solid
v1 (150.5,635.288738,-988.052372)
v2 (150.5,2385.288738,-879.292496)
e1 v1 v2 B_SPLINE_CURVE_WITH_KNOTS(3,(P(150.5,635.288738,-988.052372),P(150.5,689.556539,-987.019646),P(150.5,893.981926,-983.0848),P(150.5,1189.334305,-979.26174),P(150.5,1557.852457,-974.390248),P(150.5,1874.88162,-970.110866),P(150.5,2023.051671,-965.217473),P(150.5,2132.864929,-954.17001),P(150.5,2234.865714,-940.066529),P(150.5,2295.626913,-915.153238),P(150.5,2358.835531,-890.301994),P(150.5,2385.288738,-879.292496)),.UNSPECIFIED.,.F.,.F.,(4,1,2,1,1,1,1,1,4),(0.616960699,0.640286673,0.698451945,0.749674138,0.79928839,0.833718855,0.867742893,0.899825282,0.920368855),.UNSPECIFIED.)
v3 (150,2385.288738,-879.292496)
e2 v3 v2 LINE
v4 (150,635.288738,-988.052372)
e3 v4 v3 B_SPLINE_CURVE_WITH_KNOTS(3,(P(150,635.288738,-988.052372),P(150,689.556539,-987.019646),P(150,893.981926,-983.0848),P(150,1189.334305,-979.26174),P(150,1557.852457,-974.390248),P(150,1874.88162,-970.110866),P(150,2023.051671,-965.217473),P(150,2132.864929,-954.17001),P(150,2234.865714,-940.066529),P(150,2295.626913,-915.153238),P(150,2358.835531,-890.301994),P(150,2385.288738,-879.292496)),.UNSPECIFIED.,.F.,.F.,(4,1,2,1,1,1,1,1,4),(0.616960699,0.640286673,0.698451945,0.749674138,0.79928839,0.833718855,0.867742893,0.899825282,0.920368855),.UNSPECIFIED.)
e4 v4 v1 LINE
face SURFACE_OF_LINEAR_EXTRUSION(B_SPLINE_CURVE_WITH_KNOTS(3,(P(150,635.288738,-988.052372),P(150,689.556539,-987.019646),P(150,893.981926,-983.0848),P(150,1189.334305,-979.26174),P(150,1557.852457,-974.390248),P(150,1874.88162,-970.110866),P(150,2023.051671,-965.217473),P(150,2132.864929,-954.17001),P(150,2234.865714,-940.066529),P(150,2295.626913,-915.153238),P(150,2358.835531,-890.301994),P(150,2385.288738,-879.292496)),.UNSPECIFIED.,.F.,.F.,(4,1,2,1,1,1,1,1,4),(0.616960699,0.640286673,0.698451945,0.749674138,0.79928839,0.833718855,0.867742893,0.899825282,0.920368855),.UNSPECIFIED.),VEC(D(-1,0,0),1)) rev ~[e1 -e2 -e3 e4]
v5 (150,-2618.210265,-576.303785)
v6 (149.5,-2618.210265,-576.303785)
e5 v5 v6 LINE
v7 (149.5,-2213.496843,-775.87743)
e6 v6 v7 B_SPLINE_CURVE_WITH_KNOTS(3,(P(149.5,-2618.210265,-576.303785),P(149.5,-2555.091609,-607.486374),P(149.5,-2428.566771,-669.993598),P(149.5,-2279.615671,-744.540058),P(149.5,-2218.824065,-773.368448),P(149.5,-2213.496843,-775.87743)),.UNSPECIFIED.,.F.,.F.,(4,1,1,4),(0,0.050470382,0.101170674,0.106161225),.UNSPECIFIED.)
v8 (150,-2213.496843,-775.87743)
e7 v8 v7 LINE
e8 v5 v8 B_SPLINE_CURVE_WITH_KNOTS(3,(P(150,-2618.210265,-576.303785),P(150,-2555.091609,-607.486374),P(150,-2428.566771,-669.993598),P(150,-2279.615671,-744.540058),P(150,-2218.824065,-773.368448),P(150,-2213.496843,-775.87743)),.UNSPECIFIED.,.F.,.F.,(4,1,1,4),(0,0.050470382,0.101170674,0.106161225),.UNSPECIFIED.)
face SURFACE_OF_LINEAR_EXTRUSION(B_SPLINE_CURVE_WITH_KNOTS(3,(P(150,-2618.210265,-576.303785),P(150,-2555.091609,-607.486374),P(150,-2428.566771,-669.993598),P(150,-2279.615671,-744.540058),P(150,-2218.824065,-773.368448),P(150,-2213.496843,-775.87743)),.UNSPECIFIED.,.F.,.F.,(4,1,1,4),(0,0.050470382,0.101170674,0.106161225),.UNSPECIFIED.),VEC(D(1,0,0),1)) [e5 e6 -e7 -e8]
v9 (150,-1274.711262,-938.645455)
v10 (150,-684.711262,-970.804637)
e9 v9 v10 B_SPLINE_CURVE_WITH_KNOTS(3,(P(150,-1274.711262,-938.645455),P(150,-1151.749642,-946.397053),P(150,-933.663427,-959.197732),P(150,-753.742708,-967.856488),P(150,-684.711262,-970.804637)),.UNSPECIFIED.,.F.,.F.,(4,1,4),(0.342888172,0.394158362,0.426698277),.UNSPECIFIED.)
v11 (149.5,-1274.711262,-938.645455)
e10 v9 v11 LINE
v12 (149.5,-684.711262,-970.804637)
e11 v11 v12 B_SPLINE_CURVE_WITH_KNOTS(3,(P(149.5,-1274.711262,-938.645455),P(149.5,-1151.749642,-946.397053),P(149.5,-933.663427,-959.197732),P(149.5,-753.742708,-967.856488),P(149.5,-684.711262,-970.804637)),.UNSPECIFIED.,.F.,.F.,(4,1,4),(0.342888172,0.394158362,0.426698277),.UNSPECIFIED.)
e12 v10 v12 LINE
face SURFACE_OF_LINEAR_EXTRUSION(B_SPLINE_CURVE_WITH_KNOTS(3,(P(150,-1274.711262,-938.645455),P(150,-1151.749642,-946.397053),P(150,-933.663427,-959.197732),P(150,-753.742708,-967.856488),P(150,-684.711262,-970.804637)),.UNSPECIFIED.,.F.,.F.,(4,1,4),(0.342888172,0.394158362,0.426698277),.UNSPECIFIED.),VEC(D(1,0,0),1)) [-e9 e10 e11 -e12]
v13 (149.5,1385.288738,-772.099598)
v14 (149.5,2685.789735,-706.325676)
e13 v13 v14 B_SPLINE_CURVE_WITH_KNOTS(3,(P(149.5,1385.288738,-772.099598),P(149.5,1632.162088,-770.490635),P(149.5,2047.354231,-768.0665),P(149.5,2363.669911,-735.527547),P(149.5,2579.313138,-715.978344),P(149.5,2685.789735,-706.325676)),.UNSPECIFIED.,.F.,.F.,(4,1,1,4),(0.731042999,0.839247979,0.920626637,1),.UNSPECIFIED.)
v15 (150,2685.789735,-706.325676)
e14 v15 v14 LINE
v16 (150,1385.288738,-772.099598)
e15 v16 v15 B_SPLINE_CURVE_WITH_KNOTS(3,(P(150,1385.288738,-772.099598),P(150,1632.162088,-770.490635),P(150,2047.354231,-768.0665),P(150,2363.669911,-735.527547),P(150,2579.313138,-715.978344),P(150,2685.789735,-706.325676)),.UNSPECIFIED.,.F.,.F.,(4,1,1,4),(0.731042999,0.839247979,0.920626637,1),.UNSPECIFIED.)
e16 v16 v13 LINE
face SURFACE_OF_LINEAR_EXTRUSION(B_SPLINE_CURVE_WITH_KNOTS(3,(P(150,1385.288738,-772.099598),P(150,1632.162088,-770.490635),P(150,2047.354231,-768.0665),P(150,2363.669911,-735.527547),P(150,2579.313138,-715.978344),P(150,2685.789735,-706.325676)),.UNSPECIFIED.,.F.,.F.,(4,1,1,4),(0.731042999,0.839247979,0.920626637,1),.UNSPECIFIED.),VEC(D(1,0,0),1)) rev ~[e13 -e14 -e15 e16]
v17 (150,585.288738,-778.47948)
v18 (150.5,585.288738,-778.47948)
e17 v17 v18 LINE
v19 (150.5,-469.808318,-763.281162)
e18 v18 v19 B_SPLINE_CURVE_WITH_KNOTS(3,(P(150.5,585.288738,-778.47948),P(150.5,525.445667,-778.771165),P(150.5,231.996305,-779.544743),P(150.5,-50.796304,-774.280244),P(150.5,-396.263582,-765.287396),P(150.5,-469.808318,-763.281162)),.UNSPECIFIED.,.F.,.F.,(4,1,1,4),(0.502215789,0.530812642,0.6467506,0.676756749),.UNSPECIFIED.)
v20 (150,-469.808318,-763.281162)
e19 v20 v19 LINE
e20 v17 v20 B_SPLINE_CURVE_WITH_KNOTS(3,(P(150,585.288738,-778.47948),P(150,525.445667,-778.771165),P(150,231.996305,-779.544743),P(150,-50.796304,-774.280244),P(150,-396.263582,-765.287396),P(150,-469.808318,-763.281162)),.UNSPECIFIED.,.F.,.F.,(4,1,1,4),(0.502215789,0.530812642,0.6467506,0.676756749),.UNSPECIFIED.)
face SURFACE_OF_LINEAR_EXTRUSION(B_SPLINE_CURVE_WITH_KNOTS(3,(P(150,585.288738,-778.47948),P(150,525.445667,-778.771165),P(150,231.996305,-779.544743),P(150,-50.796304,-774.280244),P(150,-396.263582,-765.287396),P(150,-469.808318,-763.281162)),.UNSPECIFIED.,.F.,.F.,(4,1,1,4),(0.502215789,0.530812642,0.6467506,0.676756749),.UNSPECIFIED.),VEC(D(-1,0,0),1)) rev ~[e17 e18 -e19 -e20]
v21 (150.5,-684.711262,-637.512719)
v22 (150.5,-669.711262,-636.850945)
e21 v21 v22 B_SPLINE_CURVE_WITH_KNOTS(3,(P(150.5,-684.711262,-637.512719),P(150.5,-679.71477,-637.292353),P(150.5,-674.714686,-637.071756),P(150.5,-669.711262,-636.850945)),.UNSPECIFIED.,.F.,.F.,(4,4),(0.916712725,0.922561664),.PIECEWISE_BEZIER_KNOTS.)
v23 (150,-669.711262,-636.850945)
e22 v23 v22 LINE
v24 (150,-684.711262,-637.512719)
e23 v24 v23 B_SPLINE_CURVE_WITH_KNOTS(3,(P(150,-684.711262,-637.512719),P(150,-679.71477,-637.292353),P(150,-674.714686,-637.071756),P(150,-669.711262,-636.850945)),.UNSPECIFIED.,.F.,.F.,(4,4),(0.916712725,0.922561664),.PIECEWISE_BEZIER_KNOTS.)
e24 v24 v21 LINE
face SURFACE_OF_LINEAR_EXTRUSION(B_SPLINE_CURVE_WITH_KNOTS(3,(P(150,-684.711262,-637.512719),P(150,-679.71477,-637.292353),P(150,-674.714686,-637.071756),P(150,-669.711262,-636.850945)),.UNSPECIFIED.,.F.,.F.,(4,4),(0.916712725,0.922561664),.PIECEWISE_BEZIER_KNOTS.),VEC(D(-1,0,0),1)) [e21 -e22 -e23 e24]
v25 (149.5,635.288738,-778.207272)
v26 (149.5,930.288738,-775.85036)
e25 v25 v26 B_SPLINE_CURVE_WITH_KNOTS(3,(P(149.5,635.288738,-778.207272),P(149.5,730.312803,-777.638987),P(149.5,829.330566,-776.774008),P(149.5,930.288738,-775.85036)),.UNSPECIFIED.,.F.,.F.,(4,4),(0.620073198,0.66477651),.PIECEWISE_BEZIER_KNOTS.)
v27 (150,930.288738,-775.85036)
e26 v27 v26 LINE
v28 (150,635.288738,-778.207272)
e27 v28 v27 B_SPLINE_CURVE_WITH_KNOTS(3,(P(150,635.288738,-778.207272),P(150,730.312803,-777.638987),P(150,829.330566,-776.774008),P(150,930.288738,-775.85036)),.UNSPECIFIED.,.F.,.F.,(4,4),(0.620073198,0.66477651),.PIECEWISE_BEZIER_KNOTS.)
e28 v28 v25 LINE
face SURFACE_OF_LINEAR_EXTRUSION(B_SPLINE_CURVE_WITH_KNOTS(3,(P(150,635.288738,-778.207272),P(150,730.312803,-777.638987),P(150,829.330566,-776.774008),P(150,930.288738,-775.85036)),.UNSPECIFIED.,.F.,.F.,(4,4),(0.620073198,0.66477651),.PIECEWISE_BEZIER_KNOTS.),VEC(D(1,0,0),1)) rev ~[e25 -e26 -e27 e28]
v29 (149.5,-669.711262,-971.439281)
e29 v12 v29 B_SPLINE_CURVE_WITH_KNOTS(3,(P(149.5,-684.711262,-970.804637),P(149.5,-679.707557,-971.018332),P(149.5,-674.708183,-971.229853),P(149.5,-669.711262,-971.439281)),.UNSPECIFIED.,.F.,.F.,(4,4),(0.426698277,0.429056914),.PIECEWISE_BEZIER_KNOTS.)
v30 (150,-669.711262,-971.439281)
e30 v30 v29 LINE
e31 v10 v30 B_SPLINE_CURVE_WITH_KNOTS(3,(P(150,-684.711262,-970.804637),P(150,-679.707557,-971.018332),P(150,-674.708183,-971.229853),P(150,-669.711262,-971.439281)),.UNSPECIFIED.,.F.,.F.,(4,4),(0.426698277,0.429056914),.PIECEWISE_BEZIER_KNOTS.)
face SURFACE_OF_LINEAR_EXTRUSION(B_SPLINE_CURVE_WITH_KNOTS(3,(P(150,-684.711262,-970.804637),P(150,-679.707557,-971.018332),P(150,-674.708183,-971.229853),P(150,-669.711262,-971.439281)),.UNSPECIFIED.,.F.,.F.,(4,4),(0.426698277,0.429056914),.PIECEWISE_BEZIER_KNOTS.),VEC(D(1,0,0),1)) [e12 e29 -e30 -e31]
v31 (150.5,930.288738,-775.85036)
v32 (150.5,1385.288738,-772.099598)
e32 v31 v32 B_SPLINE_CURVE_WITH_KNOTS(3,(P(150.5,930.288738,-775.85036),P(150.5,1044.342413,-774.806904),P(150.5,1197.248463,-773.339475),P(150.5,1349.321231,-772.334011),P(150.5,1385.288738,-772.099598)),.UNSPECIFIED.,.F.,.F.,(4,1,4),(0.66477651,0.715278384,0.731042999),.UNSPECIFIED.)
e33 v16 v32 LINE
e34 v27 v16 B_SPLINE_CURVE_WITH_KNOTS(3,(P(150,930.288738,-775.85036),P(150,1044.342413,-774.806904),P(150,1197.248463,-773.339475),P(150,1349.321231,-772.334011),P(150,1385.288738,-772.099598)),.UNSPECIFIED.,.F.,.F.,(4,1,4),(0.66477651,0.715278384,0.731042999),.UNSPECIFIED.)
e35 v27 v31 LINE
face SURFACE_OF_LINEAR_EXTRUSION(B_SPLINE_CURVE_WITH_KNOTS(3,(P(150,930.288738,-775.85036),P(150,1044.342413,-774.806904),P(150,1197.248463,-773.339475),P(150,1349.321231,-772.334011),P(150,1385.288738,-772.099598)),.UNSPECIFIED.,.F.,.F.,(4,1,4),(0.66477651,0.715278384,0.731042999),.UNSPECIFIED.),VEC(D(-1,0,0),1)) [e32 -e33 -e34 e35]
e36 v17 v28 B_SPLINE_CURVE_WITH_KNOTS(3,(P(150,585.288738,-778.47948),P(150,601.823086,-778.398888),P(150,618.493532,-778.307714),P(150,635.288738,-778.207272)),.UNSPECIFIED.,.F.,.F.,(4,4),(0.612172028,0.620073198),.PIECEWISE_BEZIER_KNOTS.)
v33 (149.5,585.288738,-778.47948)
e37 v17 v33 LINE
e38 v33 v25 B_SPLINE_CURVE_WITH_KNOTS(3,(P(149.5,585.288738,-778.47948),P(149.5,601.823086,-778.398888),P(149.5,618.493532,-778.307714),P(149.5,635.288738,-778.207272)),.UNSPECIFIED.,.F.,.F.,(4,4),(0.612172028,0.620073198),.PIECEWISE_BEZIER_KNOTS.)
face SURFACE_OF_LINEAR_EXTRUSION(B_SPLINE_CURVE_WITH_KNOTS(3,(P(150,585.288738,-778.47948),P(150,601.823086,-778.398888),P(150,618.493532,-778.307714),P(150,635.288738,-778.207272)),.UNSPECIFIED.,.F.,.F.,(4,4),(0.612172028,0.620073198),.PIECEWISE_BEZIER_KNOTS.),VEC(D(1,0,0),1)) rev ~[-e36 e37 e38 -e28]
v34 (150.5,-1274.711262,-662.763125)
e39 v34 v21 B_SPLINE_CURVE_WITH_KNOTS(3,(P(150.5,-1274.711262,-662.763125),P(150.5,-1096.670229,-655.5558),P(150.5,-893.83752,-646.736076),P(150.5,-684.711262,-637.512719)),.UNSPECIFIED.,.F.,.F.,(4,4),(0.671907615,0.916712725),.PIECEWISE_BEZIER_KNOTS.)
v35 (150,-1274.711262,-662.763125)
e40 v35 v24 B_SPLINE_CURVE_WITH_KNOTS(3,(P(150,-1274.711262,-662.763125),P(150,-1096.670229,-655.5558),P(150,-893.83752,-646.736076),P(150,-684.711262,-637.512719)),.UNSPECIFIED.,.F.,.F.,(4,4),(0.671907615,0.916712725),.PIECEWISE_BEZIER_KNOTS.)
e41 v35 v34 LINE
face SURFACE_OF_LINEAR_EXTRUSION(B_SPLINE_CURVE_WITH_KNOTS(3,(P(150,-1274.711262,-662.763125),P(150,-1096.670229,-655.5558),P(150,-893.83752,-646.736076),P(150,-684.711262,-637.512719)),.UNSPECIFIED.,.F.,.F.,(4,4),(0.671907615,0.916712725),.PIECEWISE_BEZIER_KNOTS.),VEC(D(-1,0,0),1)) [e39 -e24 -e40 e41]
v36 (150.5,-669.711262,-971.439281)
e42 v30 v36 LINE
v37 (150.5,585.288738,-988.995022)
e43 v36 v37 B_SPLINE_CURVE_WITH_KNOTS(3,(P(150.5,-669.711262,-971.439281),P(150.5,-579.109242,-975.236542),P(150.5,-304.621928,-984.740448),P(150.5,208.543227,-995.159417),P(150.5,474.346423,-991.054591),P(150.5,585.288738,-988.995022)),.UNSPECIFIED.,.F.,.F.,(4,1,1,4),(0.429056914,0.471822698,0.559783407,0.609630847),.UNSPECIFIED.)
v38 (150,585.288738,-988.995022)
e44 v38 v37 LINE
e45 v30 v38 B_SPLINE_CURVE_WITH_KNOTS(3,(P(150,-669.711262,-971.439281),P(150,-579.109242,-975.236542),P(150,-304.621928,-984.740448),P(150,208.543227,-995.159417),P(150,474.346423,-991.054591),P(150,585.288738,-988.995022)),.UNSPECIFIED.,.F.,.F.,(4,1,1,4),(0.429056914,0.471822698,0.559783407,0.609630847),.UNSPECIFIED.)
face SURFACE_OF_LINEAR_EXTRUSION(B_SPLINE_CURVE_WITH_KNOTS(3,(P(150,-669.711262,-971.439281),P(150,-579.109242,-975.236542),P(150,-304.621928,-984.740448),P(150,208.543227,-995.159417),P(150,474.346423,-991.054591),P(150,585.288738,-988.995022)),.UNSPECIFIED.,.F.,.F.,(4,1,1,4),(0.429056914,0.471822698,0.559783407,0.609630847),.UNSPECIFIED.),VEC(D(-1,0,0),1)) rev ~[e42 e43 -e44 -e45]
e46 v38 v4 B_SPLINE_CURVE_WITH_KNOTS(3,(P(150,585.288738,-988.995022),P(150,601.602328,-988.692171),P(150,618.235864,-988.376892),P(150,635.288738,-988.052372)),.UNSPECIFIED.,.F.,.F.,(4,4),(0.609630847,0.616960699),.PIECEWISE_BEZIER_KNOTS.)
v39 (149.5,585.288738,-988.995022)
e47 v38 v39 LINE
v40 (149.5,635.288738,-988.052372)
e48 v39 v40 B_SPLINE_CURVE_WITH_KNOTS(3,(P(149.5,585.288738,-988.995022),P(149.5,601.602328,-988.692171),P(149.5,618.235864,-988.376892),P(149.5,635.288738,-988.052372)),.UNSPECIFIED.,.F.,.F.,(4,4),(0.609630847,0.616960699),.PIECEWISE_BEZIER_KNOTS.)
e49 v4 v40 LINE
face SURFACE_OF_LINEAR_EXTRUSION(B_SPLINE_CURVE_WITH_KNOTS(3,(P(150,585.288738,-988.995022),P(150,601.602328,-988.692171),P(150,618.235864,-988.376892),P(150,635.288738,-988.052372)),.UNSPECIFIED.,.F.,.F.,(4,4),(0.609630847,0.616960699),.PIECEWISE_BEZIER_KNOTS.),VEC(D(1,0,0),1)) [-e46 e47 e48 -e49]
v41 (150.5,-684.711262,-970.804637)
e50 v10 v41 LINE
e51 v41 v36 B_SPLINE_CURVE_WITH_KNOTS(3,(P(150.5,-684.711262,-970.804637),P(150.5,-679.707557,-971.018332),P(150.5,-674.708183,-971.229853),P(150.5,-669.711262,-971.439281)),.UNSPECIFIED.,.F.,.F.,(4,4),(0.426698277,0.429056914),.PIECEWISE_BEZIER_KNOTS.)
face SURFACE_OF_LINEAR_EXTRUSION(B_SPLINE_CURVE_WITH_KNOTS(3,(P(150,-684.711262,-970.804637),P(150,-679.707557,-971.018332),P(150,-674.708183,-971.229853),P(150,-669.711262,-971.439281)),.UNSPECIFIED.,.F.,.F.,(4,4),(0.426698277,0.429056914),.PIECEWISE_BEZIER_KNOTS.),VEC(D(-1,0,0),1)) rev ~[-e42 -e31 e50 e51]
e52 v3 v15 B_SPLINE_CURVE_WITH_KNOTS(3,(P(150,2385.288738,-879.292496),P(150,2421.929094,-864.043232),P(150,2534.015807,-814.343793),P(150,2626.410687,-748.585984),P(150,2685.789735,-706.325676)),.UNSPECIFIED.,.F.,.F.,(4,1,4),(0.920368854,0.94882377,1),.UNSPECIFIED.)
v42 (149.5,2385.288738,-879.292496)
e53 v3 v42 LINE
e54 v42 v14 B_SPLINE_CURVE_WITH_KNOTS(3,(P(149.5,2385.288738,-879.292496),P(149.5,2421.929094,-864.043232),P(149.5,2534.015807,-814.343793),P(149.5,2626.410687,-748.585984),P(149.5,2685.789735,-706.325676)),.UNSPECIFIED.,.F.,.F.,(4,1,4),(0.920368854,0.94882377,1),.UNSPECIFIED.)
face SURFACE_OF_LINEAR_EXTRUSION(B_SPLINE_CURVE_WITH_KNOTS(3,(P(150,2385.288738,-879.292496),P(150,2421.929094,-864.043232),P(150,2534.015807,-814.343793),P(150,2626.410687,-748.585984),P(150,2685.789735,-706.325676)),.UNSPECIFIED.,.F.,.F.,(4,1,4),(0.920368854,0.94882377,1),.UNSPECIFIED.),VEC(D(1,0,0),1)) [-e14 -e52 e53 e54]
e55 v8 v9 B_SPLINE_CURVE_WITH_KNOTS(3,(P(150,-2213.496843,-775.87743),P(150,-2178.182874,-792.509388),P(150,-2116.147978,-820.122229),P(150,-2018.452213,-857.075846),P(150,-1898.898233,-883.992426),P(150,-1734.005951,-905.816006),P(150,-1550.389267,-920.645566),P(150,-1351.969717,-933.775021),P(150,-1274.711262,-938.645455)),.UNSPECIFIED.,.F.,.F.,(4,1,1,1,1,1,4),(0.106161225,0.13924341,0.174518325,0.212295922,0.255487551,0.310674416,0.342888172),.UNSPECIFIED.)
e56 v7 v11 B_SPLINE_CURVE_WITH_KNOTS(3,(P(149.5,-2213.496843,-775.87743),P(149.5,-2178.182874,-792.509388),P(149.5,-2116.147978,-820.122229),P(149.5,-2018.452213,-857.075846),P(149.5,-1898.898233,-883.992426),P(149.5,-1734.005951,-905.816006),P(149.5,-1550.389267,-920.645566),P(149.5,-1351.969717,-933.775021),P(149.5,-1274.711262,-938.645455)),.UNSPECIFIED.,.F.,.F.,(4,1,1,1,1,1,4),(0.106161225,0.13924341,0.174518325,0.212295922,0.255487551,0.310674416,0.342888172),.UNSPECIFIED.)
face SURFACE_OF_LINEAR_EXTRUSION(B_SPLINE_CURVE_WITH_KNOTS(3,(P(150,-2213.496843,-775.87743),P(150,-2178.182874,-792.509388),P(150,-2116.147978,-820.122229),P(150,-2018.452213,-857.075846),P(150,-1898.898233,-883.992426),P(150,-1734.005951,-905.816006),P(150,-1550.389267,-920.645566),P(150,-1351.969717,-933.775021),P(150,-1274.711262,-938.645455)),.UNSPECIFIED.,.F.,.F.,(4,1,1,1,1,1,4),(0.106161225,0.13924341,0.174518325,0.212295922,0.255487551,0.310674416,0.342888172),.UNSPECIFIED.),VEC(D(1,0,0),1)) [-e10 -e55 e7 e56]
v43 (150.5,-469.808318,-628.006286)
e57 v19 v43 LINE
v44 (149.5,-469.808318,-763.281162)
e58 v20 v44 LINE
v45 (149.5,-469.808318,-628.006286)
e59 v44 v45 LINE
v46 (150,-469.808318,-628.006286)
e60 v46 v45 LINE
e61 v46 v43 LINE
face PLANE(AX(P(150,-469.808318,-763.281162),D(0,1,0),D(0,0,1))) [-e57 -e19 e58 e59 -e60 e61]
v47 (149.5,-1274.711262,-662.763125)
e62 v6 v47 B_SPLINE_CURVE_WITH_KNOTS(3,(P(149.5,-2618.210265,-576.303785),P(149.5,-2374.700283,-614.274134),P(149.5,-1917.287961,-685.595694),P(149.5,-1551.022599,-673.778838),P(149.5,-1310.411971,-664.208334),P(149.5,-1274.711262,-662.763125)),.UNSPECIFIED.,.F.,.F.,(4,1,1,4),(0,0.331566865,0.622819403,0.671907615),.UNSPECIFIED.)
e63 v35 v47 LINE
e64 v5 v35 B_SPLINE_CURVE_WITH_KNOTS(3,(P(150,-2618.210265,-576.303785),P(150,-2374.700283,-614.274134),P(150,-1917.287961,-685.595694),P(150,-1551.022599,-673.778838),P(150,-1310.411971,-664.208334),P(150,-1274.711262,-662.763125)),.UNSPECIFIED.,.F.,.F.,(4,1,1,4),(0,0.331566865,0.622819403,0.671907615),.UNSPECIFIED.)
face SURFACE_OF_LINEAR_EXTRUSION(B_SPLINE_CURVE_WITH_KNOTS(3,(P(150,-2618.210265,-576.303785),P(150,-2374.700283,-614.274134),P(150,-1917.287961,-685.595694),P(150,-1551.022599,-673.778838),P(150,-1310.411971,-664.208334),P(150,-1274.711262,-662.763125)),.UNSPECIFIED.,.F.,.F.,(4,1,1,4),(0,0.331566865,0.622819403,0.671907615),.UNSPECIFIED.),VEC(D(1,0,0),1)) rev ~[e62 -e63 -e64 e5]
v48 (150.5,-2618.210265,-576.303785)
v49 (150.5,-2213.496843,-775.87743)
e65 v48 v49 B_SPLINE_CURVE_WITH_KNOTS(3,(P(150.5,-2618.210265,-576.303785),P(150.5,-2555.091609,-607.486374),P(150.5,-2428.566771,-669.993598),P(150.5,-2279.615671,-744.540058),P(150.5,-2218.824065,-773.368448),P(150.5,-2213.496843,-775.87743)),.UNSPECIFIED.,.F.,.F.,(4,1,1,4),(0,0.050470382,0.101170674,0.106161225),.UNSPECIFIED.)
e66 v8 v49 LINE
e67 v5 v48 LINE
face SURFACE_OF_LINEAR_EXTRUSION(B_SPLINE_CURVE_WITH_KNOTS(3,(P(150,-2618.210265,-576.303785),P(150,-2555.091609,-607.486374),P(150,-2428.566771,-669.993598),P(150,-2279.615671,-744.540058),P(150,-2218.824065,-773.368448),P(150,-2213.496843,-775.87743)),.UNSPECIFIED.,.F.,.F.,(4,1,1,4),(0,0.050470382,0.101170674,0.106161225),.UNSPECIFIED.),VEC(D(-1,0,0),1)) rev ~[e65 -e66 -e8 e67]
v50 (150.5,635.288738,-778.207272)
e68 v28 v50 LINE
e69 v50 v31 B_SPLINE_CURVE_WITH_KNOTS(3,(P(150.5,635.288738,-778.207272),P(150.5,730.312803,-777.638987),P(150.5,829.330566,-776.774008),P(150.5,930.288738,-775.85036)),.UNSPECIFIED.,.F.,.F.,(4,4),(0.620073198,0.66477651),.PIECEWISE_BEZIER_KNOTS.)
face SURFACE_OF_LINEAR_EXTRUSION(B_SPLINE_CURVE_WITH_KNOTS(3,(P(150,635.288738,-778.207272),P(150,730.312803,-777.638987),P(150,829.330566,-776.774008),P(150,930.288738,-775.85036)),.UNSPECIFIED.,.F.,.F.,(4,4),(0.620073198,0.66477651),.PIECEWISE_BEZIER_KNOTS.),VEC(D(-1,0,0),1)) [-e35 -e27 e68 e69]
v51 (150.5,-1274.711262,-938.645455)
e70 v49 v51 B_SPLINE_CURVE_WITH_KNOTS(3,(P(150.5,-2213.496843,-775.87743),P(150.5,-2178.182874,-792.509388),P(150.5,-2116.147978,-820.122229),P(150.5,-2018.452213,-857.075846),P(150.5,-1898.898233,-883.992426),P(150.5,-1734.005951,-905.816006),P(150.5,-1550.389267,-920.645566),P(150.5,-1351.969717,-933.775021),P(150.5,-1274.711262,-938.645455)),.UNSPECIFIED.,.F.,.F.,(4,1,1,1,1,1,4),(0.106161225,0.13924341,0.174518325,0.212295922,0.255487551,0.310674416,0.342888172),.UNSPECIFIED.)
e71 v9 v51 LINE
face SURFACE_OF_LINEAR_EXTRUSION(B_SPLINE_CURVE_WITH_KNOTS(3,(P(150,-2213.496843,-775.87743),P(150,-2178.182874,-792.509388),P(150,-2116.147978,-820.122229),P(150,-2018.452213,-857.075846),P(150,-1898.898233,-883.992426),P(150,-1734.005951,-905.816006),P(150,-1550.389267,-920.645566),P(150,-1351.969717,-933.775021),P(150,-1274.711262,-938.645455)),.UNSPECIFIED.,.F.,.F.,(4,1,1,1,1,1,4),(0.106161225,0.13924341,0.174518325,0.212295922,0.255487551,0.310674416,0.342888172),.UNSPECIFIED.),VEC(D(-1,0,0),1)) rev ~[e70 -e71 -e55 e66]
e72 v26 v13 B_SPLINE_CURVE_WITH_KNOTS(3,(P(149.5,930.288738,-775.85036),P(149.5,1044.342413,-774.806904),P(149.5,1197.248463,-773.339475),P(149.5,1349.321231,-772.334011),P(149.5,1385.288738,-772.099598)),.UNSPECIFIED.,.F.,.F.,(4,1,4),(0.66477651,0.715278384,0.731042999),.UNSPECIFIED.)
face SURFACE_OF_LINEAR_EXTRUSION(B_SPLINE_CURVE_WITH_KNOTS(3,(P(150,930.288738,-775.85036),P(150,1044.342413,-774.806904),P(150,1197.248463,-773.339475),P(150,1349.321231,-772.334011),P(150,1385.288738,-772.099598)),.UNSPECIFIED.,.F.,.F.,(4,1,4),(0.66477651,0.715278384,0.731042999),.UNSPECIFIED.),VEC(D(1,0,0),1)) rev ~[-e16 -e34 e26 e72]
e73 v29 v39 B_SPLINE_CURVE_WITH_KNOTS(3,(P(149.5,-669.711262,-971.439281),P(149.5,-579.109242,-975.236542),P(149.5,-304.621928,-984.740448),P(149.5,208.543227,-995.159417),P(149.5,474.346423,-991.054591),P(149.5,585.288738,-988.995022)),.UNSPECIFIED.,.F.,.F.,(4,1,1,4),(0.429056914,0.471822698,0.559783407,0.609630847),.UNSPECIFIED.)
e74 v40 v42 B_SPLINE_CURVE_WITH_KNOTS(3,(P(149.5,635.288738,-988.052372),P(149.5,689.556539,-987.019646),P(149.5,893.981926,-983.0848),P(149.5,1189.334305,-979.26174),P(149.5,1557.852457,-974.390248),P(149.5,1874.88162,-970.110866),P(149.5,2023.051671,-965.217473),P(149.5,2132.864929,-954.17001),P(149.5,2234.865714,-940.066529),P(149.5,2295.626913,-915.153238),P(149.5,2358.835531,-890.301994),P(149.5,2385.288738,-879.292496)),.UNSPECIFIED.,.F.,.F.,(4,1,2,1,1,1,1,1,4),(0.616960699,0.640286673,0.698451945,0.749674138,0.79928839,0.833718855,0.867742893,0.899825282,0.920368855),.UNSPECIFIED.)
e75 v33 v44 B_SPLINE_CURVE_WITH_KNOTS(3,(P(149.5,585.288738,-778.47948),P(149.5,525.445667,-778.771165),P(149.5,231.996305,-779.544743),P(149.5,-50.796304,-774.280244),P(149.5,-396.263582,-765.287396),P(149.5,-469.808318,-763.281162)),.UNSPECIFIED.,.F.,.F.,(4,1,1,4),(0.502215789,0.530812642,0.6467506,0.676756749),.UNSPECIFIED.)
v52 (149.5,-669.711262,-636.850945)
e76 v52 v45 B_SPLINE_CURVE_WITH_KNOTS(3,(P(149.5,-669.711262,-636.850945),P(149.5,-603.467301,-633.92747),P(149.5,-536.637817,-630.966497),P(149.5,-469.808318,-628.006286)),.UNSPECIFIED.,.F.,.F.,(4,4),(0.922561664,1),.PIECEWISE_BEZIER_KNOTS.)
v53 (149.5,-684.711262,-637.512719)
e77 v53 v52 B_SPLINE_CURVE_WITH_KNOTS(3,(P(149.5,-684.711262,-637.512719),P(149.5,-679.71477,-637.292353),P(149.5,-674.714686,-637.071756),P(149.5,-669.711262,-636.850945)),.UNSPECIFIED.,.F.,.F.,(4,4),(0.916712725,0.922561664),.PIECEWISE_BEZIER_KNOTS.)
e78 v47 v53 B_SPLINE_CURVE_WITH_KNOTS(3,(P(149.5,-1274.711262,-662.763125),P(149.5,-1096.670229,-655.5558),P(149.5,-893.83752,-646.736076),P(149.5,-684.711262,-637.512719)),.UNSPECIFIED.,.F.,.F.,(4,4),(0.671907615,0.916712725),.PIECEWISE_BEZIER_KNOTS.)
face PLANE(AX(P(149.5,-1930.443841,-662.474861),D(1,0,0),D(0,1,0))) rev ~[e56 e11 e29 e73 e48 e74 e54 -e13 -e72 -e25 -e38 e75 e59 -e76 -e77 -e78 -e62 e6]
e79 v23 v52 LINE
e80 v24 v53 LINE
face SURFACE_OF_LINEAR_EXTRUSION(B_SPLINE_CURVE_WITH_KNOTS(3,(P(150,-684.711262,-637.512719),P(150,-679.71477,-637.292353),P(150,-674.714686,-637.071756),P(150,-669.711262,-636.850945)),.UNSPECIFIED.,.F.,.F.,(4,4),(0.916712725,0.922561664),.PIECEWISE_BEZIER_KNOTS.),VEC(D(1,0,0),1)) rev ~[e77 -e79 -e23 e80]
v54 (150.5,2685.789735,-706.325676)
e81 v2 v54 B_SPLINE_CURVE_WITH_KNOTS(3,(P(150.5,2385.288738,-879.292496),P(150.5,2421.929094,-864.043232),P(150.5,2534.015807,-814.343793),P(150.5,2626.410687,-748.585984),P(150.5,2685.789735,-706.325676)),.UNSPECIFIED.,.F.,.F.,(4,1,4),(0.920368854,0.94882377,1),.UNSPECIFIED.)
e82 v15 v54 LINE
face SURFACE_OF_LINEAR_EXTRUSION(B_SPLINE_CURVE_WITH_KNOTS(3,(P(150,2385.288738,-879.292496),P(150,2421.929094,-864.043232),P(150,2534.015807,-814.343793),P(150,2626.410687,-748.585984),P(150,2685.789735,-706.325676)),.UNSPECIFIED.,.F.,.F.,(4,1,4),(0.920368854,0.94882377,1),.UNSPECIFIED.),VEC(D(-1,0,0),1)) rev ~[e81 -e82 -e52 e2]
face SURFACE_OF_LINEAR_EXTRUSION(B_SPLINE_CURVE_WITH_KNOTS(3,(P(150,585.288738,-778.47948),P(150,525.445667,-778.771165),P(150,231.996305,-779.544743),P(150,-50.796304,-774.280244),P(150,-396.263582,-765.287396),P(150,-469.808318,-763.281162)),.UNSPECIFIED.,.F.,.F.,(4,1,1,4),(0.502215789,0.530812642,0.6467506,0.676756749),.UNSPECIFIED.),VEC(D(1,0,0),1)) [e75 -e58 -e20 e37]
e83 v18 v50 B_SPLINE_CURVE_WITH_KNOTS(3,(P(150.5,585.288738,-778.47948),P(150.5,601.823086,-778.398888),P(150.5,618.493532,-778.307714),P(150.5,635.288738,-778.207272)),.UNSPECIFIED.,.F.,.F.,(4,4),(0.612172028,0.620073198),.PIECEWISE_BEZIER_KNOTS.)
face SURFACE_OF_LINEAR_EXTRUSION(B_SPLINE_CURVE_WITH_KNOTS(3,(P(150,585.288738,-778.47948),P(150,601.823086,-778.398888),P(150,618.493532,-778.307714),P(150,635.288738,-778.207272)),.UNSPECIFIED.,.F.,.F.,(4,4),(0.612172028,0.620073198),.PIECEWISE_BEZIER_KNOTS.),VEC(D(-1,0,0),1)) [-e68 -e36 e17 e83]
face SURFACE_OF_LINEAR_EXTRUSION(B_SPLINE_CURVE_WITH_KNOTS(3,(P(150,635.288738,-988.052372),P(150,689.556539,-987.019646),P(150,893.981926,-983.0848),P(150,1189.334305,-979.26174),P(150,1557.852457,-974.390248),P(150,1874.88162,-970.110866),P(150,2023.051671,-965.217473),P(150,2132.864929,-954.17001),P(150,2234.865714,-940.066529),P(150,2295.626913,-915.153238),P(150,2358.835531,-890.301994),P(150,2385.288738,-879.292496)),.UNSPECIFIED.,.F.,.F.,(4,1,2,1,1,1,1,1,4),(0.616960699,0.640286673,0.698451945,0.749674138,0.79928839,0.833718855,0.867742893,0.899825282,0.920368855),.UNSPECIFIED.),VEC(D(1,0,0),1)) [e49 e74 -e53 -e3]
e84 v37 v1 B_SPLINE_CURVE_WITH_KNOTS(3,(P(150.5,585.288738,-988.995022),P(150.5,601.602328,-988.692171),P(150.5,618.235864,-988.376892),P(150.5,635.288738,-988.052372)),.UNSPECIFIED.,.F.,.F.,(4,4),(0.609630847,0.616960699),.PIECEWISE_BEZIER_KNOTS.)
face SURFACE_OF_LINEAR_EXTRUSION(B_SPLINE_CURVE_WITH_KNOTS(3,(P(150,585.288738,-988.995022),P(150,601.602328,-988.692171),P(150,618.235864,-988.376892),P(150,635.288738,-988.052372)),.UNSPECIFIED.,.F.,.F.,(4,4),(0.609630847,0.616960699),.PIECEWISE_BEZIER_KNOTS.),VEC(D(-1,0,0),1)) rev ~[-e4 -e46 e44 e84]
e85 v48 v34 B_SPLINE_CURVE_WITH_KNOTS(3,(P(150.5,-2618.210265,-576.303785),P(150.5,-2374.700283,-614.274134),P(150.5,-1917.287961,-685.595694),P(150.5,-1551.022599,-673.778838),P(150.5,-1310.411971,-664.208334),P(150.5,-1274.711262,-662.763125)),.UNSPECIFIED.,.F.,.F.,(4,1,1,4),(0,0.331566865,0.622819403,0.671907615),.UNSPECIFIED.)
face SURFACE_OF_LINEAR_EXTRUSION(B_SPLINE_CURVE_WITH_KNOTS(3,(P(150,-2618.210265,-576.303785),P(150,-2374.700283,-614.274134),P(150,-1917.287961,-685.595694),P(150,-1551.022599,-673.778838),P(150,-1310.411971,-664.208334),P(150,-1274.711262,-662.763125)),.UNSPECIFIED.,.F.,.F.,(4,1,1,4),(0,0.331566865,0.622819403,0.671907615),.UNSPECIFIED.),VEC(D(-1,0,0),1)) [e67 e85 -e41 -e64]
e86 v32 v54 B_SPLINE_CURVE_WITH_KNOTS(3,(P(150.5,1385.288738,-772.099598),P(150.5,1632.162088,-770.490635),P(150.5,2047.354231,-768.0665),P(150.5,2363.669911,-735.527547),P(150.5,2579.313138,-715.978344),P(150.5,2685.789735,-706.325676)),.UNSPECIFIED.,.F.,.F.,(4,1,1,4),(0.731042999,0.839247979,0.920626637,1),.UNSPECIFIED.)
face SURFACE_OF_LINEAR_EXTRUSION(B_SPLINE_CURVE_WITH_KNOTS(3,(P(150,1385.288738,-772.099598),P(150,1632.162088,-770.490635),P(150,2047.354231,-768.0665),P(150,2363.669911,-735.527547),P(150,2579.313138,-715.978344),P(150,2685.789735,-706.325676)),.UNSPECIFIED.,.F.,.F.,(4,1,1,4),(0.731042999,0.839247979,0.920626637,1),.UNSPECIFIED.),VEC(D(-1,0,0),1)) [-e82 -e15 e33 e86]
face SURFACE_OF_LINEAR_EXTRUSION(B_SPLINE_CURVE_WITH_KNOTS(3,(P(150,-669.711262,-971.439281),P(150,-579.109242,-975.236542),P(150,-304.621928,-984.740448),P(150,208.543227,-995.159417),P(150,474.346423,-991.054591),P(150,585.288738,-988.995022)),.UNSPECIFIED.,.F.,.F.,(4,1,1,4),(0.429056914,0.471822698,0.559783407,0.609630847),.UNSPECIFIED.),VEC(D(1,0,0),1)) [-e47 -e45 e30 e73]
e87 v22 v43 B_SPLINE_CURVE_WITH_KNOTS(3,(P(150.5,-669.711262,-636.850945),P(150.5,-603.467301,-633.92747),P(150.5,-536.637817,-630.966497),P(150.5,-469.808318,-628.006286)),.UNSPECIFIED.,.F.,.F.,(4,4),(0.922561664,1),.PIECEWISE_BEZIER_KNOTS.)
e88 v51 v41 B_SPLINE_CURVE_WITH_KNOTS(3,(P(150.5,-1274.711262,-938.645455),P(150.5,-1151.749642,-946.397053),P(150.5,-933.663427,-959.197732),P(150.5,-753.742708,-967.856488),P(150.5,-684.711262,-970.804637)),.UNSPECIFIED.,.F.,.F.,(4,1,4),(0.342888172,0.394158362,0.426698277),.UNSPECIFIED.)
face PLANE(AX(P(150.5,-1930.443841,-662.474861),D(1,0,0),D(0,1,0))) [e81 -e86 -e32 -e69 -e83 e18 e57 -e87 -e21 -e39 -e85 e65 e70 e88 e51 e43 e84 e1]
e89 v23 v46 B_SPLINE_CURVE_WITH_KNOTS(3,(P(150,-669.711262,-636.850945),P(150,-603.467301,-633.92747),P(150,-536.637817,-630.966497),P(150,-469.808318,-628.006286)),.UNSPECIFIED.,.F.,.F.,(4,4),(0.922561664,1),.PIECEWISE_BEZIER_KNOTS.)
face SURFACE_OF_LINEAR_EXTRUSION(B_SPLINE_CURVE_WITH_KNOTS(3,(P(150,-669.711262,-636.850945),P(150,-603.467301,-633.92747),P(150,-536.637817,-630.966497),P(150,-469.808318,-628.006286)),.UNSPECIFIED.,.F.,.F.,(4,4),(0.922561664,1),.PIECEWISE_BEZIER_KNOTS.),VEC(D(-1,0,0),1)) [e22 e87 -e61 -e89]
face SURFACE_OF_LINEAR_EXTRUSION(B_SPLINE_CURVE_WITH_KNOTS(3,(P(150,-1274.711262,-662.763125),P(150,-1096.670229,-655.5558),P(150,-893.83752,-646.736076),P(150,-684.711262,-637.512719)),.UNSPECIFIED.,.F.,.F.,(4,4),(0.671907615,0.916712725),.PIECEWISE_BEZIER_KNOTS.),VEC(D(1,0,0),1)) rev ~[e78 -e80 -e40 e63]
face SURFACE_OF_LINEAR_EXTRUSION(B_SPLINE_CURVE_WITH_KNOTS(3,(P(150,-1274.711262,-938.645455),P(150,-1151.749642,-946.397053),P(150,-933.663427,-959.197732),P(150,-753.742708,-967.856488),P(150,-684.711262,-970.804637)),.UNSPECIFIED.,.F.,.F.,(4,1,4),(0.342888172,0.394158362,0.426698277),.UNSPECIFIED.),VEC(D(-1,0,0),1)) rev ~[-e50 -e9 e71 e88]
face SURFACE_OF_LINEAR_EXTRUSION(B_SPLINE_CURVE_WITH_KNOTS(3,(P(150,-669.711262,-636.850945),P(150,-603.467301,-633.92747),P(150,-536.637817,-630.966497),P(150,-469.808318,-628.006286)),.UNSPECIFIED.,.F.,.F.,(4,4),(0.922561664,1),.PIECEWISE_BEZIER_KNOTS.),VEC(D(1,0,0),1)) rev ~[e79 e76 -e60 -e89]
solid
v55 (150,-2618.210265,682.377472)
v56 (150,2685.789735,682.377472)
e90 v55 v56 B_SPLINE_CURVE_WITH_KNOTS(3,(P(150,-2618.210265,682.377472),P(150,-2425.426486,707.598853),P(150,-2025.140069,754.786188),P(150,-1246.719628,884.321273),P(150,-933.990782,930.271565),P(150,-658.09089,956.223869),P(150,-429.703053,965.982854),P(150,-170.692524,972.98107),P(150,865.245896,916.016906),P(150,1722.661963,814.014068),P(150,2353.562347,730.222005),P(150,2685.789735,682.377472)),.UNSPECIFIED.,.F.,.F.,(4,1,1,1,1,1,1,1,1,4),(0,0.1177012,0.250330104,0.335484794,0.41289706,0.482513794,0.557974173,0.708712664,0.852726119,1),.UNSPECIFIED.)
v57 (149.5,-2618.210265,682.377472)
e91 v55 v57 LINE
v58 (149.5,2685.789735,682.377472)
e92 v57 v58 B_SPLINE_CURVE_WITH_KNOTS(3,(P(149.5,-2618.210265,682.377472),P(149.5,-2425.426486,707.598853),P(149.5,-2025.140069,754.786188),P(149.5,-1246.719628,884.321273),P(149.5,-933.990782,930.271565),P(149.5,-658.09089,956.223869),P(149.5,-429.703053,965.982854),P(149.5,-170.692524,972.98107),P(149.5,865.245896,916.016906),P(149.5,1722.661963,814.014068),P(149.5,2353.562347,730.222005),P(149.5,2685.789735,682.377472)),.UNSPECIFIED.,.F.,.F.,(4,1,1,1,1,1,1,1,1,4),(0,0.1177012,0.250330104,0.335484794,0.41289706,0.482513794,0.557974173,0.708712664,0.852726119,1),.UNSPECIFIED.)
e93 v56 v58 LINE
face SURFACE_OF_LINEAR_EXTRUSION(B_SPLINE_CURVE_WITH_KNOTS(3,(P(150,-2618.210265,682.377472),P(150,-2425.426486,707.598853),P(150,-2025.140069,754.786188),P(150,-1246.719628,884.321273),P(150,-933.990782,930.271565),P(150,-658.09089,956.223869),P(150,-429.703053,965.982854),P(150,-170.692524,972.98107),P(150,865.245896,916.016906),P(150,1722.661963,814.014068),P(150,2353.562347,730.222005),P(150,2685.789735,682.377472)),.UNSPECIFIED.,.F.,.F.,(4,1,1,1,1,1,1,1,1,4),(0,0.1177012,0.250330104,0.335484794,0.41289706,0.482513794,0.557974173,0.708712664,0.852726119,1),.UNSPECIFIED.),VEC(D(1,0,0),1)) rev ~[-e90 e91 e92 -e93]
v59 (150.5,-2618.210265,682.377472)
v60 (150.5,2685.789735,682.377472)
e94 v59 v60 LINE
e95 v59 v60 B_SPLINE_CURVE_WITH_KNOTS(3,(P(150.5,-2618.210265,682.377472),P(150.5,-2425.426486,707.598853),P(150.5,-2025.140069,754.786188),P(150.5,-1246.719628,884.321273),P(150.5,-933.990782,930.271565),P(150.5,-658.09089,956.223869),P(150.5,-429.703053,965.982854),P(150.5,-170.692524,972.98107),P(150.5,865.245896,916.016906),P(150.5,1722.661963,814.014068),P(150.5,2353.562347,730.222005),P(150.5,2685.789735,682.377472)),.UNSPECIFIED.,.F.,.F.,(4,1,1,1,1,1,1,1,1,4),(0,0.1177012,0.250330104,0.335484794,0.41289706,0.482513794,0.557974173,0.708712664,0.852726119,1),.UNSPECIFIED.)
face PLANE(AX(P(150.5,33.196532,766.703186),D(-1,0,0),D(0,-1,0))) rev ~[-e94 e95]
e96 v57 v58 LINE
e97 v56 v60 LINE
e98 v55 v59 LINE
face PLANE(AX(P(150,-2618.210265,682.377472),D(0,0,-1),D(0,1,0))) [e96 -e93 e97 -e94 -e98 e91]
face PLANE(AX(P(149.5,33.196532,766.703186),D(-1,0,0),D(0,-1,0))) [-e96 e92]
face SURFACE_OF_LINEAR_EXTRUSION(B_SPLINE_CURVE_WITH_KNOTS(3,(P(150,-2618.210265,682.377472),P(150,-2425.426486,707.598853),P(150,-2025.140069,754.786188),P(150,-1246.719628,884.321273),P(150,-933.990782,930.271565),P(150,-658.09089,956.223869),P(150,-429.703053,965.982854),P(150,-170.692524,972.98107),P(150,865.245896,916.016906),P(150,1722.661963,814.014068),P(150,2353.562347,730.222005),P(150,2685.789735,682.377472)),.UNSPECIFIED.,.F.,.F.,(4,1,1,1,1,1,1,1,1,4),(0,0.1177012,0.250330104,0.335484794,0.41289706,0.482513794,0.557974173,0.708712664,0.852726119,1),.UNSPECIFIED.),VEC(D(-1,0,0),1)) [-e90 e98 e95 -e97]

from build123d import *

# Parameters (mm, degrees)
F2_DEPTH = 0.5


with BuildPart() as f2:
    # F1 (on offset) → F2 (new body, symmetric)
    with BuildSketch(Plane.YZ.offset(150)):
        with BuildLine():
            add(Edge.make_bspline(
                [(-2618.2102647118, -576.3037851779), (-2539.0333905021, -590.5693602499), (-2375.154011412, -620.0960826442), (-2096.7040136344, -670.0811240284), (-1773.0350855243, -710.4396632339), (-1504.9471650603, -727.0489500896), (-1286.513021344, -736.293041033), (-1274.7112617183, -736.7843373728)],
                knots=[0, 0, 0, 0, 0.0701169764, 0.1451273073, 0.2240791994, 0.3224669769, 0.3279987799, 0.3279987799, 0.3279987799, 0.3279987799], degree=3))
            Line((-1274.7112617184, -736.7843373728), (-1274.7112617184, -662.7631248578))
            add(Edge.make_bspline(
                [(-2618.2102647118, -576.3037851779), (-2374.7002828416, -614.2741342573), (-1917.2879605014, -685.5956944009), (-1551.0225985173, -673.7788376752), (-1310.41197081, -664.2083344144), (-1274.7112617184, -662.7631248578)],
                knots=[0, 0, 0, 0, 0.3315668647, 0.6228194025, 0.6719076149, 0.6719076149, 0.6719076149, 0.6719076149], degree=3))
        make_face()
        with BuildLine():
            add(Edge.make_bspline(
                [(-669.7112617185, -757.6052229188), (-602.0714093195, -759.6035889936), (-534.9526120868, -761.5040851665), (-469.8083181867, -763.2811623211)],
                knots=[0.4110522857, 0.4110522857, 0.4110522857, 0.4110522857, 0.4376310669, 0.4376310669, 0.4376310669, 0.4376310669], degree=3))
            Line((-469.8083181867, -763.281162321), (-469.8083181867, -628.0062858085))
            add(Edge.make_bspline(
                [(-669.7112617184, -636.8509449902), (-603.4673012103, -633.9274703809), (-536.6378166673, -630.9664971881), (-469.8083181867, -628.0062858085)],
                knots=[0.9225616639, 0.9225616639, 0.9225616639, 0.9225616639, 1, 1, 1, 1], degree=3))
            Line((-669.7112617184, -636.8509449902), (-669.7112617184, -757.6052229188))
        make_face()
        with BuildLine():
            add(Edge.make_bspline(
                [(1385.2887382816, -772.0995976401), (1632.162088344, -770.4906352796), (2047.3542309509, -768.0664997186), (2363.6699111594, -735.5275467967), (2579.3131378684, -715.9783442912), (2685.7897352882, -706.3256758723)],
                knots=[0.7310429993, 0.7310429993, 0.7310429993, 0.7310429993, 0.8392479794, 0.9206266367, 1, 1, 1, 1], degree=3))
            Line((1385.2887382816, -772.0995976401), (1385.2887382816, -924.43752621))
            Line((1385.2887382816, -924.43752621), (1606.0147852981, -919.6427484052))
            Line((1606.0147852981, -919.6427484052), (2063.3390255537, -909.2374018513))
            Line((2063.3390255537, -909.2374018513), (2385.2887382816, -879.2924956671))
            add(Edge.make_bspline(
                [(2385.2887382816, -879.2924956671), (2421.9290941285, -864.0432321069), (2534.0158071069, -814.3437931642), (2626.4106873664, -748.585983947), (2685.7897352882, -706.3256758723)],
                knots=[0.9203688542, 0.9203688542, 0.9203688542, 0.9203688542, 0.9488237702, 1, 1, 1, 1], degree=3))
        make_face()
        with BuildLine():
            Line((-1274.7112617184, -938.6454548407), (-1274.7112617184, -880.009493909))
            Line((-1274.7112617184, -880.009493909), (-1437.7513832902, -867.8795826768))
            Line((-1437.7513832902, -867.8795826768), (-1847.0462813249, -827.756598687))
            Line((-1847.0462813249, -827.756598687), (-2213.4968429981, -775.8774304832))
            add(Edge.make_bspline(
                [(-2213.4968429981, -775.8774304832), (-2178.1828741936, -792.5093882206), (-2116.1479783538, -820.1222288889), (-2018.4522131173, -857.0758458758), (-1898.8982328104, -883.9924256255), (-1734.0059514115, -905.8160057723), (-1550.3892671083, -920.6455663407), (-1351.9697174508, -933.7750206565), (-1274.7112617184, -938.6454548407)],
                knots=[0.106161225, 0.106161225, 0.106161225, 0.106161225, 0.1392434105, 0.174518325, 0.212295922, 0.2554875511, 0.3106744158, 0.3428881723, 0.3428881723, 0.3428881723, 0.3428881723], degree=3))
        make_face()
        with BuildLine():
            Line((1606.0147852981, -919.6427484052), (1385.2887382816, -924.43752621))
            Line((1385.2887382816, -924.43752621), (1385.2887382816, -976.6713911922))
            add(Edge.make_bspline(
                [(1385.2887382816, -976.6713911922), (1557.8524568737, -974.3902477766), (1874.8816200544, -970.1108659298), (2023.0516705268, -965.2174725682), (2132.8649293631, -954.1700096304), (2234.8657137087, -940.0665287928), (2295.6269129834, -915.1532376729), (2358.8355305535, -890.3019940013), (2385.2887382816, -879.2924956671)],
                knots=[0.6984519453, 0.6984519453, 0.6984519453, 0.6984519453, 0.7496741382, 0.7992883896, 0.8337188547, 0.8677428923, 0.8998252818, 0.9203688542, 0.9203688542, 0.9203688542, 0.9203688542], degree=3))
            Line((2385.2887382816, -879.2924956671), (2063.3390255537, -909.2374018513))
            Line((2063.3390255537, -909.2374018513), (1606.0147852981, -919.6427484052))
        make_face()
        with BuildLine():
            Line((-1274.7112617184, -880.009493909), (-1274.7112617184, -736.7843373728))
            add(Edge.make_bspline(
                [(-2618.2102647118, -576.3037851779), (-2539.0333905021, -590.5693602499), (-2375.154011412, -620.0960826442), (-2096.7040136344, -670.0811240284), (-1773.0350855243, -710.4396632339), (-1504.9471650603, -727.0489500896), (-1286.513021344, -736.293041033), (-1274.7112617183, -736.7843373728)],
                knots=[0, 0, 0, 0, 0.0701169764, 0.1451273073, 0.2240791994, 0.3224669769, 0.3279987799, 0.3279987799, 0.3279987799, 0.3279987799], degree=3))
            add(Edge.make_bspline(
                [(-2618.2102647118, -576.3037851779), (-2555.0916094041, -607.4863736106), (-2428.5667711769, -669.9935980991), (-2279.6156710071, -744.5400580991), (-2218.8240651697, -773.368447862), (-2213.4968429981, -775.8774304832)],
                knots=[0, 0, 0, 0, 0.050470382, 0.1011706743, 0.106161225, 0.106161225, 0.106161225, 0.106161225], degree=3))
            Line((-2213.4968429981, -775.8774304832), (-1847.0462813249, -827.756598687))
            Line((-1847.0462813249, -827.756598687), (-1437.7513832902, -867.8795826768))
            Line((-1437.7513832902, -867.8795826768), (-1274.7112617184, -880.009493909))
        make_face()
        with BuildLine():
            add(Edge.make_bspline(
                [(-1274.7112617183, -736.7843373728), (-1101.7111468682, -743.9861721753), (-891.285948131, -751.0201450743), (-684.7112617185, -757.1607021541)],
                knots=[0.3279987799, 0.3279987799, 0.3279987799, 0.3279987799, 0.4090885986, 0.4090885986, 0.4090885986, 0.4090885986], degree=3))
            Line((-684.7112617184, -757.1607021541), (-684.7112617184, -637.5127192401))
            add(Edge.make_bspline(
                [(-1274.7112617184, -662.7631248578), (-1096.670228969, -655.5558001701), (-893.8375195181, -646.7360757099), (-684.7112617184, -637.5127192401)],
                knots=[0.6719076149, 0.6719076149, 0.6719076149, 0.6719076149, 0.9167127252, 0.9167127252, 0.9167127252, 0.9167127252], degree=3))
            Line((-1274.7112617184, -662.7631248578), (-1274.7112617184, -736.7843373728))
        make_face()
        with BuildLine():
            add(Edge.make_bspline(
                [(-684.7112617185, -757.1607021541), (-679.7088083003, -757.3094030975), (-674.7086129159, -757.4575801203), (-669.7112617185, -757.6052229188)],
                knots=[0.4090885986, 0.4090885986, 0.4090885986, 0.4090885986, 0.4110522857, 0.4110522857, 0.4110522857, 0.4110522857], degree=3))
            Line((-669.7112617184, -757.6052229188), (-669.7112617184, -636.8509449902))
            add(Edge.make_bspline(
                [(-684.7112617184, -637.5127192401), (-679.7147702212, -637.2923527368), (-674.714686125, -637.0717558249), (-669.7112617184, -636.8509449902)],
                knots=[0.9167127252, 0.9167127252, 0.9167127252, 0.9167127252, 0.9225616639, 0.9225616639, 0.9225616639, 0.9225616639], degree=3))
            Line((-684.7112617184, -637.5127192401), (-684.7112617184, -757.1607021541))
        make_face()
        with BuildLine():
            add(Edge.make_bspline(
                [(-44.7112617184, -773.728421124), (113.2613740111, -776.9774103479), (302.2012598236, -779.359672084), (525.4456674629, -778.7711649103), (585.2887382816, -778.479479658)],
                knots=[0.5022157887, 0.5022157887, 0.5022157887, 0.5022157887, 0.5835751742, 0.6121720276, 0.6121720276, 0.6121720276, 0.6121720276], degree=3))
            Line((-44.7112617184, -773.728421124), (-44.7112617184, -941.6859116845))
            Line((-44.7112617184, -941.6859116845), (-39.9646897602, -941.8767564059))
            Line((-39.9646897602, -941.8767564059), (582.4794109707, -941.8767564059))
            Line((582.4794109707, -941.8767564059), (585.2887382816, -941.8157300775))
            Line((585.2887382816, -941.8157300775), (585.2887382816, -778.479479658))
        make_face()
        with BuildLine():
            add(Edge.make_bspline(
                [(585.2887382816, -778.479479658), (601.8230858905, -778.3988884503), (618.4935316161, -778.30771442), (635.2887382816, -778.2072718216)],
                knots=[0.6121720276, 0.6121720276, 0.6121720276, 0.6121720276, 0.6200731983, 0.6200731983, 0.6200731983, 0.6200731983], degree=3))
            Line((585.2887382816, -778.479479658), (585.2887382816, -941.8157300775))
            Line((585.2887382816, -941.8157300775), (635.2887382816, -940.7295923358))
            Line((635.2887382816, -940.7295923358), (635.2887382816, -778.2072718216))
        make_face()
        with BuildLine():
            add(Edge.make_bspline(
                [(635.2887382816, -778.2072718216), (730.3128033462, -777.6389868226), (829.3305657081, -776.77400756), (930.2887382816, -775.8503599419)],
                knots=[0.6200731983, 0.6200731983, 0.6200731983, 0.6200731983, 0.6647765097, 0.6647765097, 0.6647765097, 0.6647765097], degree=3))
            Line((635.2887382816, -778.2072718216), (635.2887382816, -940.7295923358))
            Line((635.2887382816, -940.7295923358), (930.2887382816, -934.3213796596))
            Line((930.2887382816, -934.3213796596), (930.2887382816, -775.8503599419))
        make_face()
        with BuildLine():
            add(Edge.make_bspline(
                [(930.2887382816, -775.8503599419), (1044.3424127047, -774.8069040032), (1197.2484628803, -773.339475374), (1349.3212311725, -772.3340108123), (1385.2887382816, -772.0995976401)],
                knots=[0.6647765097, 0.6647765097, 0.6647765097, 0.6647765097, 0.715278384, 0.7310429993, 0.7310429993, 0.7310429993, 0.7310429993], degree=3))
            Line((930.2887382816, -775.8503599419), (930.2887382816, -934.3213796596))
            Line((930.2887382816, -934.3213796596), (1385.2887382816, -924.43752621))
            Line((1385.2887382816, -924.43752621), (1385.2887382816, -772.0995976401))
        make_face()
        with BuildLine():
            Line((-684.7112617184, -970.8046369417), (-684.7112617184, -915.9535257059))
            Line((-684.7112617184, -915.9535257059), (-917.2539962014, -906.603714143))
            Line((-917.2539962014, -906.603714143), (-1274.7112617184, -880.009493909))
            Line((-1274.7112617184, -880.009493909), (-1274.7112617184, -938.6454548407))
            add(Edge.make_bspline(
                [(-1274.7112617184, -938.6454548407), (-1151.7496419929, -946.3970526479), (-933.6634273917, -959.1977316743), (-753.7427084976, -967.8564883836), (-684.7112617184, -970.8046369416)],
                knots=[0.3428881723, 0.3428881723, 0.3428881723, 0.3428881723, 0.394158362, 0.4266982769, 0.4266982769, 0.4266982769, 0.4266982769], degree=3))
        make_face()
        with BuildLine():
            Line((-669.7112617184, -971.4392812777), (-669.7112617184, -916.5566285022))
            Line((-669.7112617184, -916.5566285022), (-684.7112617184, -915.9535257059))
            Line((-684.7112617184, -915.9535257059), (-684.7112617184, -970.8046369417))
            add(Edge.make_bspline(
                [(-684.7112617184, -970.8046369416), (-679.7075573577, -971.0183317791), (-674.7081830744, -971.2298531452), (-669.7112617184, -971.4392812777)],
                knots=[0.4266982769, 0.4266982769, 0.4266982769, 0.4266982769, 0.4290569137, 0.4290569137, 0.4290569137, 0.4290569137], degree=3))
        make_face()
        with BuildLine():
            Line((-44.7112617184, -989.2742923513), (-44.7112617184, -941.6859116845))
            Line((-44.7112617184, -941.6859116845), (-669.7112617184, -916.5566285022))
            Line((-669.7112617184, -916.5566285022), (-669.7112617184, -971.4392812777))
            add(Edge.make_bspline(
                [(-669.7112617184, -971.4392812777), (-579.109241688, -975.2365417312), (-393.0716362982, -981.6779466746), (-162.4671889977, -987.2184957479), (-44.7112617184, -989.2742923513)],
                knots=[0.4290569137, 0.4290569137, 0.4290569137, 0.4290569137, 0.4718226984, 0.5176586181, 0.5176586181, 0.5176586181, 0.5176586181], degree=3))
        make_face()
        with BuildLine():
            Line((-39.9646897602, -941.8767564059), (-44.7112617184, -941.6859116845))
            Line((-44.7112617184, -941.6859116845), (-44.7112617184, -989.2742923513))
            add(Edge.make_bspline(
                [(-44.7112617184, -989.2742923513), (63.510492238, -991.1636402537), (296.9511627935, -993.7941239946), (474.3464232517, -991.0545907571), (585.2887382816, -988.9950215944)],
                knots=[0.5176586181, 0.5176586181, 0.5176586181, 0.5176586181, 0.5597834074, 0.6096308473, 0.6096308473, 0.6096308473, 0.6096308473], degree=3))
            Line((585.2887382816, -988.9950215944), (585.2887382816, -941.8157300775))
            Line((585.2887382816, -941.8157300775), (582.4794109707, -941.8767564059))
            Line((582.4794109707, -941.8767564059), (-39.9646897602, -941.8767564059))
        make_face()
        with BuildLine():
            Line((635.2887382816, -940.7295923358), (585.2887382816, -941.8157300775))
            Line((585.2887382816, -941.8157300775), (585.2887382816, -988.9950215944))
            add(Edge.make_bspline(
                [(585.2887382816, -988.9950215944), (601.602327556, -988.6921708256), (618.235863852, -988.3768917606), (635.2887382816, -988.0523722636)],
                knots=[0.6096308473, 0.6096308473, 0.6096308473, 0.6096308473, 0.6169606985, 0.6169606985, 0.6169606985, 0.6169606985], degree=3))
            Line((635.2887382816, -988.0523722636), (635.2887382816, -940.7295923358))
        make_face()
        with BuildLine():
            Line((930.2887382816, -934.3213796596), (635.2887382816, -940.7295923358))
            Line((635.2887382816, -940.7295923358), (635.2887382816, -988.0523722636))
            add(Edge.make_bspline(
                [(635.2887382816, -988.0523722636), (689.5565391928, -987.0196455216), (780.6034531895, -985.2671450814), (889.6869238697, -983.5368188605), (930.2887382816, -982.9222818723)],
                knots=[0.6169606985, 0.6169606985, 0.6169606985, 0.6169606985, 0.6402866725, 0.6532552442, 0.6532552442, 0.6532552442, 0.6532552442], degree=3))
            Line((930.2887382816, -982.9222818723), (930.2887382816, -934.3213796596))
        make_face()
        with BuildLine():
            Line((1385.2887382816, -924.43752621), (930.2887382816, -934.3213796596))
            Line((930.2887382816, -934.3213796596), (930.2887382816, -982.9222818723))
            add(Edge.make_bspline(
                [(930.2887382816, -982.9222818723), (1071.7899085728, -980.7805622405), (1233.0244487495, -978.6841936767), (1385.2887382816, -976.6713911922)],
                knots=[0.6532552442, 0.6532552442, 0.6532552442, 0.6532552442, 0.6984519453, 0.6984519453, 0.6984519453, 0.6984519453], degree=3))
            Line((1385.2887382816, -976.6713911922), (1385.2887382816, -924.43752621))
        make_face()
        with BuildLine():
            add(Edge.make_bspline(
                [(-469.8083181867, -763.2811623211), (-396.2635821108, -765.2873959064), (-243.3837676729, -769.267005864), (-111.8512497035, -772.3475674309), (-44.7112617184, -773.728421124)],
                knots=[0.4376310669, 0.4376310669, 0.4376310669, 0.4376310669, 0.4676372167, 0.5022157887, 0.5022157887, 0.5022157887, 0.5022157887], degree=3))
            add(Edge.make_bspline(
                [(-669.7112617185, -757.6052229188), (-602.0714093195, -759.6035889936), (-534.9526120868, -761.5040851665), (-469.8083181867, -763.2811623211)],
                knots=[0.4110522857, 0.4110522857, 0.4110522857, 0.4110522857, 0.4376310669, 0.4376310669, 0.4376310669, 0.4376310669], degree=3))
            Line((-669.7112617184, -757.6052229188), (-669.7112617184, -916.5566285022))
            Line((-669.7112617184, -916.5566285022), (-44.7112617184, -941.6859116845))
            Line((-44.7112617184, -941.6859116845), (-44.7112617184, -773.728421124))
        make_face()
        with BuildLine():
            Line((-684.7112617184, -915.9535257059), (-684.7112617184, -757.1607021541))
            add(Edge.make_bspline(
                [(-1274.7112617183, -736.7843373728), (-1101.7111468682, -743.9861721753), (-891.285948131, -751.0201450743), (-684.7112617185, -757.1607021541)],
                knots=[0.3279987799, 0.3279987799, 0.3279987799, 0.3279987799, 0.4090885986, 0.4090885986, 0.4090885986, 0.4090885986], degree=3))
            Line((-1274.7112617184, -736.7843373728), (-1274.7112617184, -880.009493909))
            Line((-1274.7112617184, -880.009493909), (-917.2539962014, -906.603714143))
            Line((-917.2539962014, -906.603714143), (-684.7112617184, -915.9535257059))
        make_face()
        with BuildLine():
            Line((-669.7112617184, -916.5566285022), (-669.7112617184, -757.6052229188))
            add(Edge.make_bspline(
                [(-684.7112617185, -757.1607021541), (-679.7088083003, -757.3094030975), (-674.7086129159, -757.4575801203), (-669.7112617185, -757.6052229188)],
                knots=[0.4090885986, 0.4090885986, 0.4090885986, 0.4090885986, 0.4110522857, 0.4110522857, 0.4110522857, 0.4110522857], degree=3))
            Line((-684.7112617184, -757.1607021541), (-684.7112617184, -915.9535257059))
            Line((-684.7112617184, -915.9535257059), (-669.7112617184, -916.5566285022))
        make_face()
    extrude(amount=F2_DEPTH, both=True)


with BuildPart() as f2b:
    # F1 (on offset) → F2, piece 2 (new body, symmetric)
    with BuildSketch(Plane.YZ.offset(150)):
        with BuildLine():
            add(Edge.make_bspline(
                [(-2618.2102647118, 682.377471705), (-2425.4264858269, 707.5988526014), (-2025.1400694407, 754.786187921), (-1246.719628274, 884.3212729298), (-933.9907816463, 930.271565146), (-658.0908901248, 956.2238691824), (-429.7030529129, 965.9828540847), (-170.6925237797, 972.981069615), (865.2458955876, 916.0169063496), (1722.6619630852, 814.0140684372), (2353.5623468111, 730.2220049375), (2685.7897352882, 682.377471705)],
                knots=[0, 0, 0, 0, 0.1177012003, 0.2503301042, 0.3354847944, 0.4128970602, 0.482513794, 0.5579741733, 0.7087126641, 0.8527261185, 1, 1, 1, 1], degree=3))
            Line((-2618.2102647118, 682.377471705), (2685.7897352882, 682.377471705))
        make_face()
    extrude(amount=F2_DEPTH, both=True)


solid = Compound([f2.part, f2b.part])
